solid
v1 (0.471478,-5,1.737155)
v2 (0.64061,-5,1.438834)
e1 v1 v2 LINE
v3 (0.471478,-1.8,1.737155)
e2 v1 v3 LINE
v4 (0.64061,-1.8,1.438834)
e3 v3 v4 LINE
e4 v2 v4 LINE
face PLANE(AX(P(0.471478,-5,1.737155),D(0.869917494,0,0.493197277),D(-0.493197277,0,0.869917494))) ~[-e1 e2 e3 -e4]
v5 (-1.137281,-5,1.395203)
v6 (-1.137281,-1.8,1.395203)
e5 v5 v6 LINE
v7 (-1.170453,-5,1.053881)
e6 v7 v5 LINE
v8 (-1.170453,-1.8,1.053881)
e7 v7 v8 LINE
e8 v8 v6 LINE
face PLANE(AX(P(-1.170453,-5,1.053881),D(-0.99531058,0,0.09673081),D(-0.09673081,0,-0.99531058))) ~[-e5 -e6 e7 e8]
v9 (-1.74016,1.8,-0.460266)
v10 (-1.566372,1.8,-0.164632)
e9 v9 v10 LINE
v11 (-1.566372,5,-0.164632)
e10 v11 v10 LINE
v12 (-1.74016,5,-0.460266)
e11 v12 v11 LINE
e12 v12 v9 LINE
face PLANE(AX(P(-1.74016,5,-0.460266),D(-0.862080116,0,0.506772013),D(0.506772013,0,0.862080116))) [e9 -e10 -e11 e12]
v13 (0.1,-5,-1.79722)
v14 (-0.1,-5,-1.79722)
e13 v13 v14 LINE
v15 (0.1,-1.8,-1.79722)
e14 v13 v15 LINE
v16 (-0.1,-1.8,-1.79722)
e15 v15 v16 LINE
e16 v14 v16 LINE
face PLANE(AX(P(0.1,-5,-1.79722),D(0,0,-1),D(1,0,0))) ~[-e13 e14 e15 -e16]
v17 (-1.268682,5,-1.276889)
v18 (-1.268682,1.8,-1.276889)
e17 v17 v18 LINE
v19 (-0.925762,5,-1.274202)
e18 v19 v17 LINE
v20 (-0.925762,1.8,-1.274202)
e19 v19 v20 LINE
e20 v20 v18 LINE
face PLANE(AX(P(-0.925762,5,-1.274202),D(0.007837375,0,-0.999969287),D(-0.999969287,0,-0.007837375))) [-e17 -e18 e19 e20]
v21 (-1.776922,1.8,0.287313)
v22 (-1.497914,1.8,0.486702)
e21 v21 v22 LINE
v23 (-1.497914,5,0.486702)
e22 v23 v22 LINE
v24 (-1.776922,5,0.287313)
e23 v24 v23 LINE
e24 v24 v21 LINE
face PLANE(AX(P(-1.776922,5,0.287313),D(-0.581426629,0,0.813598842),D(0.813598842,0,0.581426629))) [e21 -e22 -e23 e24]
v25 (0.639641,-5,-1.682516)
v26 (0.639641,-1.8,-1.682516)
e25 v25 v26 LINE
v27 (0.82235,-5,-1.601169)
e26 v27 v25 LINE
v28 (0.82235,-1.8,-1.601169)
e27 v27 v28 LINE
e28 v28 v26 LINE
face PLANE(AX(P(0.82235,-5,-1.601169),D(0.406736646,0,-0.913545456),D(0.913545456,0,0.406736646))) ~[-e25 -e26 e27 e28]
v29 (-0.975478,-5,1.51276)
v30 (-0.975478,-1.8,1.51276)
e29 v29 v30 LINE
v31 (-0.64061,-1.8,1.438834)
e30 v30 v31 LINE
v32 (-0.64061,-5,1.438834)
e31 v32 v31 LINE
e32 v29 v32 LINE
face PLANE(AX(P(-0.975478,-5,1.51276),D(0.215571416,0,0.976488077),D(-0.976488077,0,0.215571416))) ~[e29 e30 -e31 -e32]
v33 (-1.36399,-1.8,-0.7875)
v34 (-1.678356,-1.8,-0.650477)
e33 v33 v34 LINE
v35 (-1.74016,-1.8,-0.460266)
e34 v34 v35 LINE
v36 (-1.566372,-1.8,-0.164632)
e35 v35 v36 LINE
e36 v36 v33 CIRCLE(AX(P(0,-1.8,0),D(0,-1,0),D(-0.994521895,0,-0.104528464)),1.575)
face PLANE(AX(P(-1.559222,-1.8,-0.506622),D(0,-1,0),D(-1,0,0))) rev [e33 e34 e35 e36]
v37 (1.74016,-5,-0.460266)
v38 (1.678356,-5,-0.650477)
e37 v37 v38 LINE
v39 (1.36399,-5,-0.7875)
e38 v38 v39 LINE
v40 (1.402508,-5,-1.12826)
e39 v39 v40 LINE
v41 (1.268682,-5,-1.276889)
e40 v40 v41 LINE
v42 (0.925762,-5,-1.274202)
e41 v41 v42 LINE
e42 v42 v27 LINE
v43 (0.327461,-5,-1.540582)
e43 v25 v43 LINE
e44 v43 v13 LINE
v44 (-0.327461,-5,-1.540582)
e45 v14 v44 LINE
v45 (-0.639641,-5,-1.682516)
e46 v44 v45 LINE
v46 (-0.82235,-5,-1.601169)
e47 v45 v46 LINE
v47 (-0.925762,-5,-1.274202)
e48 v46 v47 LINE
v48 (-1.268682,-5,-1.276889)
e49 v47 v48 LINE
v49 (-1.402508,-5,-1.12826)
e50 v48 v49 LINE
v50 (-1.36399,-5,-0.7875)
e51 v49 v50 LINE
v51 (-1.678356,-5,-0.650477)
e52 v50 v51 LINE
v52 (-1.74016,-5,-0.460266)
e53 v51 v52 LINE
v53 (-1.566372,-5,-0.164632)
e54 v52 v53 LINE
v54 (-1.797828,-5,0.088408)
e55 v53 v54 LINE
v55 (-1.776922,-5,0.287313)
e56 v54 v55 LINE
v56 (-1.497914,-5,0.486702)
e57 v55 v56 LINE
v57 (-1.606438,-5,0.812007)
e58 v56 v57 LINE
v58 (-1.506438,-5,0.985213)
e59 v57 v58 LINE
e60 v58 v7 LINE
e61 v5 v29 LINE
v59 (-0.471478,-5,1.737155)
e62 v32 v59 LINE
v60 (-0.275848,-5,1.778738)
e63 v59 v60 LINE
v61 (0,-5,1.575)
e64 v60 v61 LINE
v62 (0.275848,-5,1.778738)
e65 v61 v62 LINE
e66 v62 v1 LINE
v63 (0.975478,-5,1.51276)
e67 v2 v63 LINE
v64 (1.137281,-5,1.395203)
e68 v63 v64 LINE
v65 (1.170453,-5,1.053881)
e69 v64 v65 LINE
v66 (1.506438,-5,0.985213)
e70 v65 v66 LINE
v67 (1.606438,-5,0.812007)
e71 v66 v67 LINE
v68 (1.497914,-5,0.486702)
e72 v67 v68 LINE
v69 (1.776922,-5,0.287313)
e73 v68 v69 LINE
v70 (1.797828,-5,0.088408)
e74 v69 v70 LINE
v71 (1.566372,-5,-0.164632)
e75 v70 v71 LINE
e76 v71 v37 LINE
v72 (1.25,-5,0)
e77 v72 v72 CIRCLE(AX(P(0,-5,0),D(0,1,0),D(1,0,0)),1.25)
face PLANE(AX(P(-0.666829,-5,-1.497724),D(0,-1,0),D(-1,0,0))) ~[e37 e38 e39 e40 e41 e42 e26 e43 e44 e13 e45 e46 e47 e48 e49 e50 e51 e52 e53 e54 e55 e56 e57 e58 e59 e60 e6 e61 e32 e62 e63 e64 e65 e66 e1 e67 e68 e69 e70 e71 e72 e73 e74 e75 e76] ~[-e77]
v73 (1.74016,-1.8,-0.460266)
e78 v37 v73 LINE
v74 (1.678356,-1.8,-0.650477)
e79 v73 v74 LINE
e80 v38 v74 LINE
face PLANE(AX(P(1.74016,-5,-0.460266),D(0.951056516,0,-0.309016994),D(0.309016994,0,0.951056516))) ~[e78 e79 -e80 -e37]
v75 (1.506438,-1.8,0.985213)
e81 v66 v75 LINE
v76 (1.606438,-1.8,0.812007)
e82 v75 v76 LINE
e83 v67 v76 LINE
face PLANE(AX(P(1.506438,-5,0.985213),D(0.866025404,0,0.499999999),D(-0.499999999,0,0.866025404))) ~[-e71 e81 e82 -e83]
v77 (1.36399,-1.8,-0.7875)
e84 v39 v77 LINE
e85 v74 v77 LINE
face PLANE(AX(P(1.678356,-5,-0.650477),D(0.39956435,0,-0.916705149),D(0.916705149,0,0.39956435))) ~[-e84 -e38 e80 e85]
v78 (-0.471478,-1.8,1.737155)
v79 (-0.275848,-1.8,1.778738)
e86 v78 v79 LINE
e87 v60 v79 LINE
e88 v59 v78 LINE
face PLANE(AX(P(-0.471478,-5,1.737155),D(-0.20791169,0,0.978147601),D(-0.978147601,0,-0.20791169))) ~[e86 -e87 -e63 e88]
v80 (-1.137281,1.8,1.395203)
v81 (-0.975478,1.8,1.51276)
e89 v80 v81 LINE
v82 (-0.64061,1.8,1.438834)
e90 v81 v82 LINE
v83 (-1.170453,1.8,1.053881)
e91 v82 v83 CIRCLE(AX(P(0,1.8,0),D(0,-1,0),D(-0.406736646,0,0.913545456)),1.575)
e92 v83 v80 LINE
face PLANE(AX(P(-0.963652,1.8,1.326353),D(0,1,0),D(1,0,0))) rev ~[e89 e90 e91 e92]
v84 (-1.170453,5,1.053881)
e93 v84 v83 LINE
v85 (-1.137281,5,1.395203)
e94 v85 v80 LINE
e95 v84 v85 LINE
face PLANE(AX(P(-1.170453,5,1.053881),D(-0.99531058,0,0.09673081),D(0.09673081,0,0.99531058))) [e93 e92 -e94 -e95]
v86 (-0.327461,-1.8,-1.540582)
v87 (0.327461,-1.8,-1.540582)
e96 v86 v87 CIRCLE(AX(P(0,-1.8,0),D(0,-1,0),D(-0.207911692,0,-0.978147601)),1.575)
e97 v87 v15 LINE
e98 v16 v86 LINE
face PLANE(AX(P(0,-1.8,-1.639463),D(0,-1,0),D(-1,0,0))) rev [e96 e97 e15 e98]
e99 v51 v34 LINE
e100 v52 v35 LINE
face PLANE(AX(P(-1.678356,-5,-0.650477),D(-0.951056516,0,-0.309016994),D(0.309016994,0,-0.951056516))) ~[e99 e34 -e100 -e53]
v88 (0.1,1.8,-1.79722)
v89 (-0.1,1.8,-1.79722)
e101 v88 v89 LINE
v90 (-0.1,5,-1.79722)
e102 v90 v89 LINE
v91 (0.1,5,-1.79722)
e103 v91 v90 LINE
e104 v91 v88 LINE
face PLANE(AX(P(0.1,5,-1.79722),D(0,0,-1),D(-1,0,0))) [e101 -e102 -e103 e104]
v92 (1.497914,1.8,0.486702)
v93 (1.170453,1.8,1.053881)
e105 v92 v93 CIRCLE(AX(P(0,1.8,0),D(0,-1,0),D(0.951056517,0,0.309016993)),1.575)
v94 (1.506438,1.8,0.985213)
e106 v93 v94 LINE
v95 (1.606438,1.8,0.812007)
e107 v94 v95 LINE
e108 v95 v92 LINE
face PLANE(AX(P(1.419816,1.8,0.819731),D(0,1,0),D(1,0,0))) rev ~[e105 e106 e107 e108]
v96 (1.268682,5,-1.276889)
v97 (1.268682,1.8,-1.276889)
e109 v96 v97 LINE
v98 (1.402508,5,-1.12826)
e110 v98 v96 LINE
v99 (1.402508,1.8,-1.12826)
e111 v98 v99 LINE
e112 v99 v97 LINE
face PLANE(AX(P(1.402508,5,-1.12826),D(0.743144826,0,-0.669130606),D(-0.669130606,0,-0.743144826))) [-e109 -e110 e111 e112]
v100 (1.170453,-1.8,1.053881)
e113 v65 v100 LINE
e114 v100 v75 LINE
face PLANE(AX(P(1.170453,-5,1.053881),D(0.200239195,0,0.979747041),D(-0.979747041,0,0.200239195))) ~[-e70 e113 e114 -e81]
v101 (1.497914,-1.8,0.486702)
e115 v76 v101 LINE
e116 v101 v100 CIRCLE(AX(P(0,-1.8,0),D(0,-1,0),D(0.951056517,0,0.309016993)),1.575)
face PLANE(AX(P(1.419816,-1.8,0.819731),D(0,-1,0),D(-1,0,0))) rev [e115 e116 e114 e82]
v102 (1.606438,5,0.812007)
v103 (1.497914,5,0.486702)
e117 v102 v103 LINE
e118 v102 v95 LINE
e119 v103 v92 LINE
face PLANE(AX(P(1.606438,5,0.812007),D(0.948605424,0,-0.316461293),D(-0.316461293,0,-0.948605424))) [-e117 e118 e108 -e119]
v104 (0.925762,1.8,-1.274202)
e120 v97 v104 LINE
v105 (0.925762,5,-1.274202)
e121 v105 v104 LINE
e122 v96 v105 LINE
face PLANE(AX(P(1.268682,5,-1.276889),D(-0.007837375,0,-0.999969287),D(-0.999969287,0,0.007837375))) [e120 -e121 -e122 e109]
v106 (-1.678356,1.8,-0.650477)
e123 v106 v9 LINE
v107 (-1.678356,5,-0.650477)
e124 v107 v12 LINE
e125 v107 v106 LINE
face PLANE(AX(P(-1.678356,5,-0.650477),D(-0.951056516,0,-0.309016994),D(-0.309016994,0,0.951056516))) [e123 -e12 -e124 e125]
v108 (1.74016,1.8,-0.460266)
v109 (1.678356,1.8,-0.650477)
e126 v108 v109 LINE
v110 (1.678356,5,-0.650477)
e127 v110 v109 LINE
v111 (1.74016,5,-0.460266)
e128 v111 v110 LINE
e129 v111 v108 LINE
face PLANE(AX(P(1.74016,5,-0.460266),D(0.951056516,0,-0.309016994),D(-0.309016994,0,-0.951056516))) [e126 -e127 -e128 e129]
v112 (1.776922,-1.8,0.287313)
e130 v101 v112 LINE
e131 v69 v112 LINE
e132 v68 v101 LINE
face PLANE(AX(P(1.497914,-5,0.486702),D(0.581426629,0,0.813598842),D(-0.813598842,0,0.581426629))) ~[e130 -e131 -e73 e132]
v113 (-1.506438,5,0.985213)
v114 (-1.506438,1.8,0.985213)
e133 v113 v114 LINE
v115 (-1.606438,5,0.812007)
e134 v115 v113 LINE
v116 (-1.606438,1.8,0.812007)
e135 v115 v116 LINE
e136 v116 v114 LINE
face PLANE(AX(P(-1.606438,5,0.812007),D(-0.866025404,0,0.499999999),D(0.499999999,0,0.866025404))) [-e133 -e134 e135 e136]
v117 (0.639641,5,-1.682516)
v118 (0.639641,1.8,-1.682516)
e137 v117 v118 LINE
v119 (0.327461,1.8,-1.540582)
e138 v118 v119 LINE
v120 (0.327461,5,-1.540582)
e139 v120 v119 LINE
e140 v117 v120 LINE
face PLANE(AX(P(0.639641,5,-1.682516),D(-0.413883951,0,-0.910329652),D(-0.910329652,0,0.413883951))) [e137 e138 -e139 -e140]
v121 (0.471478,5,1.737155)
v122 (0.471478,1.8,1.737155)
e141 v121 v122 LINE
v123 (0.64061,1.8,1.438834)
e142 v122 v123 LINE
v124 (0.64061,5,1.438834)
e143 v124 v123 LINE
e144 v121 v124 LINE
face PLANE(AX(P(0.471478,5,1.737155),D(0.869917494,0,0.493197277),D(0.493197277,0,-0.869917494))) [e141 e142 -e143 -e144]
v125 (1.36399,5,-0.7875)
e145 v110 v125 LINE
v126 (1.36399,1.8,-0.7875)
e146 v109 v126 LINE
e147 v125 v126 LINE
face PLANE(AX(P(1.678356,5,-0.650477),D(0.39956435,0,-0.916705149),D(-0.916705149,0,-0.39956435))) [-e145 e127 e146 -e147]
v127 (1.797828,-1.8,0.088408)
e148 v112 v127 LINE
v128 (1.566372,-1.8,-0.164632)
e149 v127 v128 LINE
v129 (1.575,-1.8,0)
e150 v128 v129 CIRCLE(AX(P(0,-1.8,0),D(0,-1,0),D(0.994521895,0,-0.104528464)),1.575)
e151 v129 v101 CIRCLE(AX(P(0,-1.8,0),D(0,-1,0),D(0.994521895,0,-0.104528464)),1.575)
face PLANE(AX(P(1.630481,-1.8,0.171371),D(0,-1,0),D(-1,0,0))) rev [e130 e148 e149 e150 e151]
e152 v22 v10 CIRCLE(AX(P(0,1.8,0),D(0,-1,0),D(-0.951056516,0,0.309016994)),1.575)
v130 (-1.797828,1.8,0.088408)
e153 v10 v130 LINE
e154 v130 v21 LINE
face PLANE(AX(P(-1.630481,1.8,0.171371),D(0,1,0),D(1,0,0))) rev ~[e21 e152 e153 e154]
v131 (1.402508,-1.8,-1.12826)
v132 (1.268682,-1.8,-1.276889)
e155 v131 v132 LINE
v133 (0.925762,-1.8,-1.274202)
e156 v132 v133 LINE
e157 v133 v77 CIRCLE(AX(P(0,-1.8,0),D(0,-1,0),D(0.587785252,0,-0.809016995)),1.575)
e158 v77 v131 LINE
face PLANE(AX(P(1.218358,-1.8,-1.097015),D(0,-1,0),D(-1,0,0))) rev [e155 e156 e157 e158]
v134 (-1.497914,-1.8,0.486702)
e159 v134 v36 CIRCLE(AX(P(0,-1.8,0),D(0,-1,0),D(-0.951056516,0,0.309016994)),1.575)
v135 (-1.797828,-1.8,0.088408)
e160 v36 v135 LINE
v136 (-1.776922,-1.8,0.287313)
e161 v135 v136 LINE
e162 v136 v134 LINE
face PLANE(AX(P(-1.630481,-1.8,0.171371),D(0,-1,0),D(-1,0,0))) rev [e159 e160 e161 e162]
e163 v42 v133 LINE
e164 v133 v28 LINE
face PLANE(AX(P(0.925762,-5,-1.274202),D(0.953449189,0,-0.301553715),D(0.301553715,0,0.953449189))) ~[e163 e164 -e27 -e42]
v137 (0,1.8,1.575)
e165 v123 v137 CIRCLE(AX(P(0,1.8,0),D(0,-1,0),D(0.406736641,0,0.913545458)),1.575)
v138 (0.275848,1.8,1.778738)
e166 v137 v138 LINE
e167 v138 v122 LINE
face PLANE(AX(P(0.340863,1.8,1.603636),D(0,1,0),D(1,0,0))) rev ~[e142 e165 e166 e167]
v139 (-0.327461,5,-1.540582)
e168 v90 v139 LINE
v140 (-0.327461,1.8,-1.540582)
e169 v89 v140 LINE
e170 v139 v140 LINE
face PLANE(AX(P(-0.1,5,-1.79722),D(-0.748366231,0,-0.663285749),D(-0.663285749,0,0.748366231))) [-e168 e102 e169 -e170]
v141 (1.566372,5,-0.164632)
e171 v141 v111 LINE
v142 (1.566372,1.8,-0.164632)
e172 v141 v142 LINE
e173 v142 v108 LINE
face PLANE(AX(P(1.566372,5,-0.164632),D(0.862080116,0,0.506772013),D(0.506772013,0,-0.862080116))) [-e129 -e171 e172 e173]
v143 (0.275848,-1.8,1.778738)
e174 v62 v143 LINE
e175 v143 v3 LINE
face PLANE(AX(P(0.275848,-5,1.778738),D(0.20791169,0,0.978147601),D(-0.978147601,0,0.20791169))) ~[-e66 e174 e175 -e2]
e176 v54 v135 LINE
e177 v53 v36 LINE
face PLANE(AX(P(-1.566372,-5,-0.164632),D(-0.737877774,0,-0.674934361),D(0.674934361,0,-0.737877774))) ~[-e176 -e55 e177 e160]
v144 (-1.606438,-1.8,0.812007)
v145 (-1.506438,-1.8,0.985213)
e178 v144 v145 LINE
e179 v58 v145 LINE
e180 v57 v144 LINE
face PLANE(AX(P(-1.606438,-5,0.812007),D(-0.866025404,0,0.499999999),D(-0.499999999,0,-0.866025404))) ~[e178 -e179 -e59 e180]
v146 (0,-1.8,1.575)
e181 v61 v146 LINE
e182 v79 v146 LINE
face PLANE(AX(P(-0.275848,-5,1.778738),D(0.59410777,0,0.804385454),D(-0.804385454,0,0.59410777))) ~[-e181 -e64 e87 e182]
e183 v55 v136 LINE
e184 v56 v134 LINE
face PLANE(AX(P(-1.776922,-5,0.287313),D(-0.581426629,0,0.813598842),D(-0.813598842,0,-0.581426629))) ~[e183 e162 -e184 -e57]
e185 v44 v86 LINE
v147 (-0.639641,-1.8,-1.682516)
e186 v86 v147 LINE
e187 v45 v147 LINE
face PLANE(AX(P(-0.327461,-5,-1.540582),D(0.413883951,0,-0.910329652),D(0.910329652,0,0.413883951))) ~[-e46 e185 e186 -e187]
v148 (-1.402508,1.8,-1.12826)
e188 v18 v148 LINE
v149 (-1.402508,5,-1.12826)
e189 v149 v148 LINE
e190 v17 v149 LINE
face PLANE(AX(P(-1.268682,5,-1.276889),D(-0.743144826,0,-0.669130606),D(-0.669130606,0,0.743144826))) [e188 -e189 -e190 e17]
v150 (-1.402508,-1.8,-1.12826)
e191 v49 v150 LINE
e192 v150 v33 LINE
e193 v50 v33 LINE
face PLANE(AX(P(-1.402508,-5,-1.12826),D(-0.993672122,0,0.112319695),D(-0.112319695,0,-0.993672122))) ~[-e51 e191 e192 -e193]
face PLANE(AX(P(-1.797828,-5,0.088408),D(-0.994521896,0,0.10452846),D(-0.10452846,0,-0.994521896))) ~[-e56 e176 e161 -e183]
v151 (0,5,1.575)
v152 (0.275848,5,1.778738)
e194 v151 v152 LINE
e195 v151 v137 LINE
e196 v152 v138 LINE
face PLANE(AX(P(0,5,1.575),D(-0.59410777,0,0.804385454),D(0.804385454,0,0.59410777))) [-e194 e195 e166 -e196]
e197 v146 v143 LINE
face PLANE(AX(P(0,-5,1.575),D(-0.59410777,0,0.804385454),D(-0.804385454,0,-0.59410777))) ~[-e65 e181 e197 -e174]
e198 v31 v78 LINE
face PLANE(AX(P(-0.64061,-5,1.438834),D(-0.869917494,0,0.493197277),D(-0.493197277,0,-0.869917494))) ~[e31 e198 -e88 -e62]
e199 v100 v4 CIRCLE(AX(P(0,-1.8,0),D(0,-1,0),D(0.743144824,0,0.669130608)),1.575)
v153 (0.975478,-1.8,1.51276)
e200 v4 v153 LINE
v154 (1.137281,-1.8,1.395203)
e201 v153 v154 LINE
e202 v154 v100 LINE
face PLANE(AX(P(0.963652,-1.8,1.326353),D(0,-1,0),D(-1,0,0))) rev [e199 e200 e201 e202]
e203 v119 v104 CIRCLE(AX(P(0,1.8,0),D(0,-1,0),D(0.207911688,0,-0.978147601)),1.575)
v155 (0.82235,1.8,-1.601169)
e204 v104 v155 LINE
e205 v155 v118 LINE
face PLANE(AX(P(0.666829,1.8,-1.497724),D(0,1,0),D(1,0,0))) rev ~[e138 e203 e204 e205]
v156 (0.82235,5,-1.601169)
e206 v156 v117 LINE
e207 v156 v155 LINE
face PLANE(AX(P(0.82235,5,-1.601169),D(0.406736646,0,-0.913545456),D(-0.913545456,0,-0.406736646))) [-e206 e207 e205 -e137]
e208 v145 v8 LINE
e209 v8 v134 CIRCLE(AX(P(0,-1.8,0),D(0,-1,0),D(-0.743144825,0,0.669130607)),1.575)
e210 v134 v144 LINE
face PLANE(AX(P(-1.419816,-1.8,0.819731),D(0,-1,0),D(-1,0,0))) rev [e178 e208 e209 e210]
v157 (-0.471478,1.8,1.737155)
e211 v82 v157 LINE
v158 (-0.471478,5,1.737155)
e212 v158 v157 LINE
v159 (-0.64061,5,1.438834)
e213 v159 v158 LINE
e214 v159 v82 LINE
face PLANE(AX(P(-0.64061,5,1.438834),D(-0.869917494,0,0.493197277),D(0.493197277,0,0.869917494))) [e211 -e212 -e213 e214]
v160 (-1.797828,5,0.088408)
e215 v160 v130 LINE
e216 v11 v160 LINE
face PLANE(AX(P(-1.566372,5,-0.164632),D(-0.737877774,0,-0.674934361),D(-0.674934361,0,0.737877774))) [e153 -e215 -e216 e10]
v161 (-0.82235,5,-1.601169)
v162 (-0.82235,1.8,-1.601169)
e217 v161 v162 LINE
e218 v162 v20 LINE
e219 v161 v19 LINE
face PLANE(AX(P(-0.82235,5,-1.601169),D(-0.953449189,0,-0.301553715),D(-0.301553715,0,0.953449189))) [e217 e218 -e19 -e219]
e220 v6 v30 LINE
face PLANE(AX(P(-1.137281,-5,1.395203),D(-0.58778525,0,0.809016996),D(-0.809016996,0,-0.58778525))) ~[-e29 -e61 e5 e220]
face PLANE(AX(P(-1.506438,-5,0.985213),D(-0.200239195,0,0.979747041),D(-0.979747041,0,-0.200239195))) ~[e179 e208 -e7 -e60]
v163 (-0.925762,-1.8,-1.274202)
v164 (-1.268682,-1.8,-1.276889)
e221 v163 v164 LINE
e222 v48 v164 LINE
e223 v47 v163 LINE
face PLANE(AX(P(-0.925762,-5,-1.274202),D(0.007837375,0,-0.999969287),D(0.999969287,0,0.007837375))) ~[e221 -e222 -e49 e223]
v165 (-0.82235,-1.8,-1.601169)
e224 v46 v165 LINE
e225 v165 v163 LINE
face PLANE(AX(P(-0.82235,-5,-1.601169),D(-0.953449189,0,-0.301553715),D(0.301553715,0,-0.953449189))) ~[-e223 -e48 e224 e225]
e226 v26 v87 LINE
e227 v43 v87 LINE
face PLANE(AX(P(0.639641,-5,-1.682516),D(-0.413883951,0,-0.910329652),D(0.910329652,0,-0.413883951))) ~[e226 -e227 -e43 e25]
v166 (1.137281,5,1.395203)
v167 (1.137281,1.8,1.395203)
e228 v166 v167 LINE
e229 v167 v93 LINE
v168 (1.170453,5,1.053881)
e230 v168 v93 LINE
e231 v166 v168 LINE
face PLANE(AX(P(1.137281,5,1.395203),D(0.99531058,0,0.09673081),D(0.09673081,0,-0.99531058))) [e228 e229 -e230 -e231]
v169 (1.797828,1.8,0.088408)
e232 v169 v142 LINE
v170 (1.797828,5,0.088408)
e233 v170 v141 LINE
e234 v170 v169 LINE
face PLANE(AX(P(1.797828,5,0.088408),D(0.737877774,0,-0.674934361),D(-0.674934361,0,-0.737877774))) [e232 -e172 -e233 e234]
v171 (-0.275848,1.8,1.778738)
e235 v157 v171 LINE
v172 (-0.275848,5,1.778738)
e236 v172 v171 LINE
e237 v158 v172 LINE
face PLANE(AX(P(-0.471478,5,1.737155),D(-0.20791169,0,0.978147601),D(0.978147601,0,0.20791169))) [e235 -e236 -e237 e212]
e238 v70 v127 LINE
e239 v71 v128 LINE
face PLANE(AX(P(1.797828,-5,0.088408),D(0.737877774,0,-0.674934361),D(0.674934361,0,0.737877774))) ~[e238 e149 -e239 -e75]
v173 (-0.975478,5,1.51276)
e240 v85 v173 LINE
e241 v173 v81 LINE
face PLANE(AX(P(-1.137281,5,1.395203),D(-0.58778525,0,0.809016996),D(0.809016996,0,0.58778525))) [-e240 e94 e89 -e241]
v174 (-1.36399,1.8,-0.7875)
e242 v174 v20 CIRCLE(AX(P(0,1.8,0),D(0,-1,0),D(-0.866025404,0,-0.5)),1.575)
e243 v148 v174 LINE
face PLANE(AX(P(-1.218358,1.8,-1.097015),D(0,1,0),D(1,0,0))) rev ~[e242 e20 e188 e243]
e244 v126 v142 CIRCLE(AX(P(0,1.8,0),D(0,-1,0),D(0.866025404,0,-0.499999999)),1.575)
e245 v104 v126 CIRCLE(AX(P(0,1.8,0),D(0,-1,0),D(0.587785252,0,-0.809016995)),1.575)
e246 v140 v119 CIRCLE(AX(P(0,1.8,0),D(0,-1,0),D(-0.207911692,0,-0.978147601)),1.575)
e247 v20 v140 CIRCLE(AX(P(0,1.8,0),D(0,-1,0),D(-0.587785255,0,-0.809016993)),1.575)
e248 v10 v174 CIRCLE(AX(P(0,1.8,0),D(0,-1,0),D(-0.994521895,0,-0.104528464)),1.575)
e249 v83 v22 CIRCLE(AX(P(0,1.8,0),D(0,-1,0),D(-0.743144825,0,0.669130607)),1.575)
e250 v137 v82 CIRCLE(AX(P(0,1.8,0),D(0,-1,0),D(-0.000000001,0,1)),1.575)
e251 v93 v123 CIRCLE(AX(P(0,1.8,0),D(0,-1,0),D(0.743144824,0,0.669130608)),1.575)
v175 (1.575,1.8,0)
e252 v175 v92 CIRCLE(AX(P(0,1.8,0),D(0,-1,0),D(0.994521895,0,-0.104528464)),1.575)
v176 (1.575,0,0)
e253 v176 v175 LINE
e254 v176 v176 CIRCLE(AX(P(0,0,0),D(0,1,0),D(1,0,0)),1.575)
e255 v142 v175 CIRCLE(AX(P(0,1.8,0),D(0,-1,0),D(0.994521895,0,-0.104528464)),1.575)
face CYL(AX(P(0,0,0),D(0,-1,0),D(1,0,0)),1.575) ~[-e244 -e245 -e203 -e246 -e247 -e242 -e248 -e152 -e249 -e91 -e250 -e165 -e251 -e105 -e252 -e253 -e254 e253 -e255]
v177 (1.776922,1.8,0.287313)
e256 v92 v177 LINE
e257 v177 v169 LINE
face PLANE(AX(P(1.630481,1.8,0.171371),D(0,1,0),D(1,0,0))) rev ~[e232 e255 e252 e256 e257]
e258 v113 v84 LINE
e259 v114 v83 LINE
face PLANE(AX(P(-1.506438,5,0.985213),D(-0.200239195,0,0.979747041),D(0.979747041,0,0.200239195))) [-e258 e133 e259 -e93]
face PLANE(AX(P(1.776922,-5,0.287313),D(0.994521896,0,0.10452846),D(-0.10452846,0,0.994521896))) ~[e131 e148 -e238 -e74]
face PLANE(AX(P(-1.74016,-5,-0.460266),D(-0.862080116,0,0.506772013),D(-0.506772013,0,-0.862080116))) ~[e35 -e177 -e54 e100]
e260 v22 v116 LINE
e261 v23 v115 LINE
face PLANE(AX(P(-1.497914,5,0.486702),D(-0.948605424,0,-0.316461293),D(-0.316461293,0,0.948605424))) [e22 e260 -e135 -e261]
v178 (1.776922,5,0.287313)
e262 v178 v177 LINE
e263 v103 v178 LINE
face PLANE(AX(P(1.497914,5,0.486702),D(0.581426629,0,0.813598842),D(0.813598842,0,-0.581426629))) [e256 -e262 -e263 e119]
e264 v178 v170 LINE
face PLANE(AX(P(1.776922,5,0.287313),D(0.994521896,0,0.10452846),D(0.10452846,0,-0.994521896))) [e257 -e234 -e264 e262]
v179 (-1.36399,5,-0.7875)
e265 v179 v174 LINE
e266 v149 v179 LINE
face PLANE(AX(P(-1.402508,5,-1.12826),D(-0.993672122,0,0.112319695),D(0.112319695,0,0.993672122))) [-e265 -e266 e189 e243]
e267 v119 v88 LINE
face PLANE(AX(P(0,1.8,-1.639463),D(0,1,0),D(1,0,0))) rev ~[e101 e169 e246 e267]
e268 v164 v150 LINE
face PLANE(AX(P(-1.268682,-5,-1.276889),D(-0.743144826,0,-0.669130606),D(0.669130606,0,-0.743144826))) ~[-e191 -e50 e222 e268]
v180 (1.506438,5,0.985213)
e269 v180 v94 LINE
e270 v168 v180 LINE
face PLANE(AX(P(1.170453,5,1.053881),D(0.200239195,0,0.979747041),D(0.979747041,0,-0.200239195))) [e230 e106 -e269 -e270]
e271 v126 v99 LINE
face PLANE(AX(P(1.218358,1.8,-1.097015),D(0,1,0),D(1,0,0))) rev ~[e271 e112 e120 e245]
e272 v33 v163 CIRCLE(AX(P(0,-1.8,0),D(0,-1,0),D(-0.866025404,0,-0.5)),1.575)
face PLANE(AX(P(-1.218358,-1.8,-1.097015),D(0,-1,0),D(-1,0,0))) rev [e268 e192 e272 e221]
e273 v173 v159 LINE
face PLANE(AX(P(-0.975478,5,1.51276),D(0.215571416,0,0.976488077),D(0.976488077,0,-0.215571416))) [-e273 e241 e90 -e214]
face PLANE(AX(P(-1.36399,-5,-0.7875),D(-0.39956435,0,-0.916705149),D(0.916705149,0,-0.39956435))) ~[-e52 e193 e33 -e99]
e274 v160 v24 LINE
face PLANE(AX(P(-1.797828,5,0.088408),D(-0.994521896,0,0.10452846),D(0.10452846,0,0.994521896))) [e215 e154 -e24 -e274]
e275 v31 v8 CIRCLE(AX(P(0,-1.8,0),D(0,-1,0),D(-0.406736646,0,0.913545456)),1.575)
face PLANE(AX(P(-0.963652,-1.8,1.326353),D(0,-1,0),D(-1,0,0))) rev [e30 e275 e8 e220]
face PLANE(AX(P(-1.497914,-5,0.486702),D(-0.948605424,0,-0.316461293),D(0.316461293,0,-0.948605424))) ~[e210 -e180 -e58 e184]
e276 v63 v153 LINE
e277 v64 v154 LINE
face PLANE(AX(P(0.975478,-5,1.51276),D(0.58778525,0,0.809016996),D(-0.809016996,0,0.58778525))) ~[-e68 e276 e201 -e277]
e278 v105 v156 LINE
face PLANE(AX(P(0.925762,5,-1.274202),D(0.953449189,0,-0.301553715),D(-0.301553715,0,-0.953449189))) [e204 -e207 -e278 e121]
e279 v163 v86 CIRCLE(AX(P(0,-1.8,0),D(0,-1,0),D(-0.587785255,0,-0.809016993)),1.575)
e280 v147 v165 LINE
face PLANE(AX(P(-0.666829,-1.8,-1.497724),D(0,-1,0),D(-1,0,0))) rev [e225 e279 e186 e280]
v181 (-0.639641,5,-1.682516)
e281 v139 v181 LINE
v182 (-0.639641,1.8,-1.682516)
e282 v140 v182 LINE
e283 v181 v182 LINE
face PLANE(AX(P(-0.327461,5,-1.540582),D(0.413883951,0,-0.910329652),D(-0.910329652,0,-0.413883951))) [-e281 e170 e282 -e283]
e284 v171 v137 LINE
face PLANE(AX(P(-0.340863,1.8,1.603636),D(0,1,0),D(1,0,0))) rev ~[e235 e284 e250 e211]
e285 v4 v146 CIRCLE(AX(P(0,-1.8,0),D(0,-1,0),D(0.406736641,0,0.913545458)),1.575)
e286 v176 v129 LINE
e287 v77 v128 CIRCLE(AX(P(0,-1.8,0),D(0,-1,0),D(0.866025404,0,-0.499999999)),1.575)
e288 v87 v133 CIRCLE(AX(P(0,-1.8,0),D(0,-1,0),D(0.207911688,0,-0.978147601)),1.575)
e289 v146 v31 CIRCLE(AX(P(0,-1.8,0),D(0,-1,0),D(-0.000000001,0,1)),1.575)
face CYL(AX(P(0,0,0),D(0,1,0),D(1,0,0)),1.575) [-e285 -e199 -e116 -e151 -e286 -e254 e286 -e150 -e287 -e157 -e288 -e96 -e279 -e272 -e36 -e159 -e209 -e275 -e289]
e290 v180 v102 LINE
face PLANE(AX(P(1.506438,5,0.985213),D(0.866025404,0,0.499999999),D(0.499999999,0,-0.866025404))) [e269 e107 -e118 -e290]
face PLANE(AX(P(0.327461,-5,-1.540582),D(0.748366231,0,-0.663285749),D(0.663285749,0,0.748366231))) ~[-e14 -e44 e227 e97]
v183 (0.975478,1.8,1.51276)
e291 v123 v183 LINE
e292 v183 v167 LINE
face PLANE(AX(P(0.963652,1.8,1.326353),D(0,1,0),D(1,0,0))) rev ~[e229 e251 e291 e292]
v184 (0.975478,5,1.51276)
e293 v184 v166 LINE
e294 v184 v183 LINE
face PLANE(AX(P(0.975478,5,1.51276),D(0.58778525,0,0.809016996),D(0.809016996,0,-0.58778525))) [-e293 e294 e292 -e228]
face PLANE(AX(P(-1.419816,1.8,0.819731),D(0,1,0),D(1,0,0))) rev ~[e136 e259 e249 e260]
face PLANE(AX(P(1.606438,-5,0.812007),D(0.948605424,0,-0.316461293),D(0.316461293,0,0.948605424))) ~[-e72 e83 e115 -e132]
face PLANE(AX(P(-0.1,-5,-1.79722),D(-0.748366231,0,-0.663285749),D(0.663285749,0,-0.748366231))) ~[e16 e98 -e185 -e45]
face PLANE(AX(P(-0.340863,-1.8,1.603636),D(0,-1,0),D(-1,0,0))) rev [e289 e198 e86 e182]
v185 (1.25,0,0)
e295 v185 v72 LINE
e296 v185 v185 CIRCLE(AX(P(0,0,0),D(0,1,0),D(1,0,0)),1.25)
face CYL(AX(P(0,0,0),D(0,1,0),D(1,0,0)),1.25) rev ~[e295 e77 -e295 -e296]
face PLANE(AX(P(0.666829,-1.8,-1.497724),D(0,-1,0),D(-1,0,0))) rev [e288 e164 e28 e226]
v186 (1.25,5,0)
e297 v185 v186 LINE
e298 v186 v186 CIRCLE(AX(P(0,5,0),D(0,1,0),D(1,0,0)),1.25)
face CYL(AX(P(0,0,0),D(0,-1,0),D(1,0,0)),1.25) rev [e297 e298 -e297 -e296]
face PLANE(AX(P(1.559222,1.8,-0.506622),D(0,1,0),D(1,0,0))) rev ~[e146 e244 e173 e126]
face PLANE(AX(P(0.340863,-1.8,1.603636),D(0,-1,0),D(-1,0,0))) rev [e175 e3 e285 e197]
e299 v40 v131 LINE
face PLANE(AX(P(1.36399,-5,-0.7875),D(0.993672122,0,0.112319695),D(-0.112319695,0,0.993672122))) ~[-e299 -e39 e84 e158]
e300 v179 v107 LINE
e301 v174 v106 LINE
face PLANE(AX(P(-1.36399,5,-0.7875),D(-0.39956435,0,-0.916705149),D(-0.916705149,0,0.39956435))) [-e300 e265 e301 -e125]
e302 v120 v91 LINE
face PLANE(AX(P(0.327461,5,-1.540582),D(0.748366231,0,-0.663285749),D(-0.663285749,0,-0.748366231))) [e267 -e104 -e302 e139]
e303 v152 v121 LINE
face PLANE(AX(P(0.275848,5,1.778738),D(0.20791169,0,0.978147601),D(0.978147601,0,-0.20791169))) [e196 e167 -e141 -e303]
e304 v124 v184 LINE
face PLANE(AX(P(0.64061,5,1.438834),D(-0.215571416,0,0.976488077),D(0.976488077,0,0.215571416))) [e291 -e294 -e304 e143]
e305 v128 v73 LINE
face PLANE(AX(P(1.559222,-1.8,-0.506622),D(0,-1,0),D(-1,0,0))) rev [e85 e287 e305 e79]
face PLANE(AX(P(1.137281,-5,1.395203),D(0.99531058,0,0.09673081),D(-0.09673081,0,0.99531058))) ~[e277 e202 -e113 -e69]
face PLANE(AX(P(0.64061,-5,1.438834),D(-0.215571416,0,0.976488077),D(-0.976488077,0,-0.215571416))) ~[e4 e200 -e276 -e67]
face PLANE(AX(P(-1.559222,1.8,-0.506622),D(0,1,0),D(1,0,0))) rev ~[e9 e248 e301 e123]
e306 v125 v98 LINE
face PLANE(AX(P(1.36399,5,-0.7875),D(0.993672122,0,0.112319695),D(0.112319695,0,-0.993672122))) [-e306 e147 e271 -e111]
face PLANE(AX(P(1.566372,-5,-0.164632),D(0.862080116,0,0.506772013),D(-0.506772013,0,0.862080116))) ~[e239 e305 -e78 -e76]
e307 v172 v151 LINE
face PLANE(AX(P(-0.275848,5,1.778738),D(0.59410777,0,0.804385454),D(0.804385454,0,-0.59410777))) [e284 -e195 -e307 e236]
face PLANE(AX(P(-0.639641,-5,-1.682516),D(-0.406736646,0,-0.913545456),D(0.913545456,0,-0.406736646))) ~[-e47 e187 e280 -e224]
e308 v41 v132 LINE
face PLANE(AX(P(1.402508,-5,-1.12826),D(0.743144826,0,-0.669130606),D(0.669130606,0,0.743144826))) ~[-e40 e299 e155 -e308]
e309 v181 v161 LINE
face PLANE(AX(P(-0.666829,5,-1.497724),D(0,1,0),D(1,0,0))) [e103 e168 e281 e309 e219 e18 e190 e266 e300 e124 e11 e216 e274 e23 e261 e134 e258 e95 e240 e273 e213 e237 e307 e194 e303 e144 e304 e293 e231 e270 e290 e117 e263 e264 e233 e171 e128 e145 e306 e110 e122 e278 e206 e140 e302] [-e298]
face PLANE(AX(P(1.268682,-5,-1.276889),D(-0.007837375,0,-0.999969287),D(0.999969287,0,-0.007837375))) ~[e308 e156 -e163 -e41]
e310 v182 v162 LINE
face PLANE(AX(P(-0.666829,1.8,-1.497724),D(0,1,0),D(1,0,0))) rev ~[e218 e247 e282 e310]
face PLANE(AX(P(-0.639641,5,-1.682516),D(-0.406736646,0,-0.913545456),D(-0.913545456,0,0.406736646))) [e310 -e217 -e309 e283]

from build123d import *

# Parameters (mm, degrees)
SKETCH1_R           = 1.575
SKETCH1_R_2         = 1.25
BOSS_EXTRUDE1_DEPTH = 5
BOSS_EXTRUDE2_DEPTH = 3.2


with BuildPart() as part:
    # Sketch1 → Boss-Extrude1 (new body)
    with BuildSketch(Plane(origin=(0, 0, 0), x_dir=(1, 0, 0), z_dir=(0, 1, 0))):
        Circle(SKETCH1_R)
        Circle(SKETCH1_R_2, mode=Mode.SUBTRACT)
    boss_extrude1 = extrude(amount=BOSS_EXTRUDE1_DEPTH)

    # Sketch2 → Boss-Extrude2 (add)
    with BuildSketch(Plane(origin=(0, 5, 0), x_dir=(1, 0, 0), z_dir=(0, 1, 0))):
        with BuildLine():
            ThreePointArc((-0.925761772, 1.274201766), (-0.640610213, 1.438834096), (-0.327460913, 1.540582471))
            Line((-0.327460913, 1.540582471), (-0.639640715, 1.682515901))
            Line((-0.639640715, 1.682515901), (-0.822349806, 1.601168572))
            Line((-0.822349806, 1.601168572), (-0.925761772, 1.274201766))
        make_face()
        with BuildLine():
            Line((-0.1, 1.797220076), (-0.327460913, 1.540582471))
            ThreePointArc((-0.327460913, 1.540582471), (0, 1.575), (0.327460913, 1.540582471))
            Line((0.327460913, 1.540582471), (0.1, 1.797220076))
            Line((0.1, 1.797220076), (-0.1, 1.797220076))
        make_face()
        with BuildLine():
            Line((0.639640715, 1.682515901), (0.327460913, 1.540582471))
            ThreePointArc((0.327460913, 1.540582471), (0.640610213, 1.438834096), (0.925761772, 1.274201766))
            Line((0.925761772, 1.274201766), (0.822349806, 1.601168572))
            Line((0.822349806, 1.601168572), (0.639640715, 1.682515901))
        make_face()
        with BuildLine():
            ThreePointArc((-1.363990011, 0.7875), (-1.1704531, 1.053880705), (-0.925761772, 1.274201766))
            Line((-0.925761772, 1.274201766), (-1.268681739, 1.276889441))
            Line((-1.268681739, 1.276889441), (-1.40250786, 1.128260476))
            Line((-1.40250786, 1.128260476), (-1.363990011, 0.7875))
        make_face()
        with BuildLine():
            Line((1.268681739, 1.276889441), (0.925761772, 1.274201766))
            ThreePointArc((0.925761772, 1.274201766), (1.1704531, 1.053880705), (1.363990011, 0.7875))
            Line((1.363990011, 0.7875), (1.40250786, 1.128260476))
            Line((1.40250786, 1.128260476), (1.268681739, 1.276889441))
        make_face()
        with BuildLine():
            ThreePointArc((-1.566371985, 0.16463233), (-1.497914013, 0.486701766), (-1.363990011, 0.7875))
            Line((-1.363990011, 0.7875), (-1.678356165, 0.650477198))
            Line((-1.678356165, 0.650477198), (-1.740159564, 0.460265894))
            Line((-1.740159564, 0.460265894), (-1.566371985, 0.16463233))
        make_face()
        with BuildLine():
            Line((1.678356165, 0.650477198), (1.363990011, 0.7875))
            ThreePointArc((1.363990011, 0.7875), (1.497914013, 0.486701766), (1.566371985, 0.16463233))
            Line((1.566371985, 0.16463233), (1.740159564, 0.460265894))
            Line((1.740159564, 0.460265894), (1.678356165, 0.650477198))
        make_face()
        with BuildLine():
            ThreePointArc((-1.497914013, -0.486701766), (-1.566371985, -0.16463233), (-1.566371985, 0.16463233))
            Line((-1.566371985, 0.16463233), (-1.797827562, -0.088408463))
            Line((-1.797827562, -0.088408463), (-1.77692187, -0.287312842))
            Line((-1.77692187, -0.287312842), (-1.497914013, -0.486701766))
        make_face()
        with BuildLine():
            Line((1.797827562, -0.088408463), (1.566371985, 0.16463233))
            ThreePointArc((1.566371985, 0.16463233), (1.566371985, -0.16463233), (1.497914013, -0.486701766))
            Line((1.497914013, -0.486701766), (1.77692187, -0.287312842))
            Line((1.77692187, -0.287312842), (1.797827562, -0.088408463))
        make_face()
        with BuildLine():
            ThreePointArc((-1.1704531, -1.053880705), (-1.363990011, -0.7875), (-1.497914013, -0.486701766))
            Line((-1.497914013, -0.486701766), (-1.606438242, -0.812007497))
            Line((-1.606438242, -0.812007497), (-1.506438242, -0.985212578))
            Line((-1.506438242, -0.985212578), (-1.1704531, -1.053880705))
        make_face()
        with BuildLine():
            ThreePointArc((-0.640610213, -1.438834096), (-0.925761772, -1.274201766), (-1.1704531, -1.053880705))
            Line((-1.1704531, -1.053880705), (-1.137281155, -1.395203059))
            Line((-1.137281155, -1.395203059), (-0.975477756, -1.512760109))
            Line((-0.975477756, -1.512760109), (-0.640610213, -1.438834096))
        make_face()
        with BuildLine():
            Line((1.606438242, -0.812007497), (1.497914013, -0.486701766))
            ThreePointArc((1.497914013, -0.486701766), (1.363990011, -0.7875), (1.1704531, -1.053880705))
            Line((1.1704531, -1.053880705), (1.506438242, -0.985212578))
            Line((1.506438242, -0.985212578), (1.606438242, -0.812007497))
        make_face()
        with BuildLine():
            ThreePointArc((0, -1.575), (-0.327460913, -1.540582471), (-0.640610213, -1.438834096))
            Line((-0.640610213, -1.438834096), (-0.471477825, -1.737155336))
            Line((-0.471477825, -1.737155336), (-0.275848305, -1.778737674))
            Line((-0.275848305, -1.778737674), (0, -1.575))
        make_face()
        with BuildLine():
            Line((1.137281155, -1.395203059), (1.1704531, -1.053880705))
            ThreePointArc((1.1704531, -1.053880705), (0.925761772, -1.274201766), (0.640610213, -1.438834096))
            Line((0.640610213, -1.438834096), (0.975477756, -1.512760109))
            Line((0.975477756, -1.512760109), (1.137281155, -1.395203059))
        make_face()
        with BuildLine():
            ThreePointArc((0.640610213, -1.438834096), (0.327460913, -1.540582471), (0, -1.575))
            Line((0, -1.575), (0.275848305, -1.778737674))
            Line((0.275848305, -1.778737674), (0.471477825, -1.737155336))
            Line((0.471477825, -1.737155336), (0.640610213, -1.438834096))
        make_face()
    boss_extrude2 = extrude(amount=-BOSS_EXTRUDE2_DEPTH)

    # Mirror1: Boss-Extrude1, Boss-Extrude2 across plane
    add(boss_extrude1.mirror(Plane.ZX))
    add(boss_extrude2.mirror(Plane.ZX))


solid = part.part
